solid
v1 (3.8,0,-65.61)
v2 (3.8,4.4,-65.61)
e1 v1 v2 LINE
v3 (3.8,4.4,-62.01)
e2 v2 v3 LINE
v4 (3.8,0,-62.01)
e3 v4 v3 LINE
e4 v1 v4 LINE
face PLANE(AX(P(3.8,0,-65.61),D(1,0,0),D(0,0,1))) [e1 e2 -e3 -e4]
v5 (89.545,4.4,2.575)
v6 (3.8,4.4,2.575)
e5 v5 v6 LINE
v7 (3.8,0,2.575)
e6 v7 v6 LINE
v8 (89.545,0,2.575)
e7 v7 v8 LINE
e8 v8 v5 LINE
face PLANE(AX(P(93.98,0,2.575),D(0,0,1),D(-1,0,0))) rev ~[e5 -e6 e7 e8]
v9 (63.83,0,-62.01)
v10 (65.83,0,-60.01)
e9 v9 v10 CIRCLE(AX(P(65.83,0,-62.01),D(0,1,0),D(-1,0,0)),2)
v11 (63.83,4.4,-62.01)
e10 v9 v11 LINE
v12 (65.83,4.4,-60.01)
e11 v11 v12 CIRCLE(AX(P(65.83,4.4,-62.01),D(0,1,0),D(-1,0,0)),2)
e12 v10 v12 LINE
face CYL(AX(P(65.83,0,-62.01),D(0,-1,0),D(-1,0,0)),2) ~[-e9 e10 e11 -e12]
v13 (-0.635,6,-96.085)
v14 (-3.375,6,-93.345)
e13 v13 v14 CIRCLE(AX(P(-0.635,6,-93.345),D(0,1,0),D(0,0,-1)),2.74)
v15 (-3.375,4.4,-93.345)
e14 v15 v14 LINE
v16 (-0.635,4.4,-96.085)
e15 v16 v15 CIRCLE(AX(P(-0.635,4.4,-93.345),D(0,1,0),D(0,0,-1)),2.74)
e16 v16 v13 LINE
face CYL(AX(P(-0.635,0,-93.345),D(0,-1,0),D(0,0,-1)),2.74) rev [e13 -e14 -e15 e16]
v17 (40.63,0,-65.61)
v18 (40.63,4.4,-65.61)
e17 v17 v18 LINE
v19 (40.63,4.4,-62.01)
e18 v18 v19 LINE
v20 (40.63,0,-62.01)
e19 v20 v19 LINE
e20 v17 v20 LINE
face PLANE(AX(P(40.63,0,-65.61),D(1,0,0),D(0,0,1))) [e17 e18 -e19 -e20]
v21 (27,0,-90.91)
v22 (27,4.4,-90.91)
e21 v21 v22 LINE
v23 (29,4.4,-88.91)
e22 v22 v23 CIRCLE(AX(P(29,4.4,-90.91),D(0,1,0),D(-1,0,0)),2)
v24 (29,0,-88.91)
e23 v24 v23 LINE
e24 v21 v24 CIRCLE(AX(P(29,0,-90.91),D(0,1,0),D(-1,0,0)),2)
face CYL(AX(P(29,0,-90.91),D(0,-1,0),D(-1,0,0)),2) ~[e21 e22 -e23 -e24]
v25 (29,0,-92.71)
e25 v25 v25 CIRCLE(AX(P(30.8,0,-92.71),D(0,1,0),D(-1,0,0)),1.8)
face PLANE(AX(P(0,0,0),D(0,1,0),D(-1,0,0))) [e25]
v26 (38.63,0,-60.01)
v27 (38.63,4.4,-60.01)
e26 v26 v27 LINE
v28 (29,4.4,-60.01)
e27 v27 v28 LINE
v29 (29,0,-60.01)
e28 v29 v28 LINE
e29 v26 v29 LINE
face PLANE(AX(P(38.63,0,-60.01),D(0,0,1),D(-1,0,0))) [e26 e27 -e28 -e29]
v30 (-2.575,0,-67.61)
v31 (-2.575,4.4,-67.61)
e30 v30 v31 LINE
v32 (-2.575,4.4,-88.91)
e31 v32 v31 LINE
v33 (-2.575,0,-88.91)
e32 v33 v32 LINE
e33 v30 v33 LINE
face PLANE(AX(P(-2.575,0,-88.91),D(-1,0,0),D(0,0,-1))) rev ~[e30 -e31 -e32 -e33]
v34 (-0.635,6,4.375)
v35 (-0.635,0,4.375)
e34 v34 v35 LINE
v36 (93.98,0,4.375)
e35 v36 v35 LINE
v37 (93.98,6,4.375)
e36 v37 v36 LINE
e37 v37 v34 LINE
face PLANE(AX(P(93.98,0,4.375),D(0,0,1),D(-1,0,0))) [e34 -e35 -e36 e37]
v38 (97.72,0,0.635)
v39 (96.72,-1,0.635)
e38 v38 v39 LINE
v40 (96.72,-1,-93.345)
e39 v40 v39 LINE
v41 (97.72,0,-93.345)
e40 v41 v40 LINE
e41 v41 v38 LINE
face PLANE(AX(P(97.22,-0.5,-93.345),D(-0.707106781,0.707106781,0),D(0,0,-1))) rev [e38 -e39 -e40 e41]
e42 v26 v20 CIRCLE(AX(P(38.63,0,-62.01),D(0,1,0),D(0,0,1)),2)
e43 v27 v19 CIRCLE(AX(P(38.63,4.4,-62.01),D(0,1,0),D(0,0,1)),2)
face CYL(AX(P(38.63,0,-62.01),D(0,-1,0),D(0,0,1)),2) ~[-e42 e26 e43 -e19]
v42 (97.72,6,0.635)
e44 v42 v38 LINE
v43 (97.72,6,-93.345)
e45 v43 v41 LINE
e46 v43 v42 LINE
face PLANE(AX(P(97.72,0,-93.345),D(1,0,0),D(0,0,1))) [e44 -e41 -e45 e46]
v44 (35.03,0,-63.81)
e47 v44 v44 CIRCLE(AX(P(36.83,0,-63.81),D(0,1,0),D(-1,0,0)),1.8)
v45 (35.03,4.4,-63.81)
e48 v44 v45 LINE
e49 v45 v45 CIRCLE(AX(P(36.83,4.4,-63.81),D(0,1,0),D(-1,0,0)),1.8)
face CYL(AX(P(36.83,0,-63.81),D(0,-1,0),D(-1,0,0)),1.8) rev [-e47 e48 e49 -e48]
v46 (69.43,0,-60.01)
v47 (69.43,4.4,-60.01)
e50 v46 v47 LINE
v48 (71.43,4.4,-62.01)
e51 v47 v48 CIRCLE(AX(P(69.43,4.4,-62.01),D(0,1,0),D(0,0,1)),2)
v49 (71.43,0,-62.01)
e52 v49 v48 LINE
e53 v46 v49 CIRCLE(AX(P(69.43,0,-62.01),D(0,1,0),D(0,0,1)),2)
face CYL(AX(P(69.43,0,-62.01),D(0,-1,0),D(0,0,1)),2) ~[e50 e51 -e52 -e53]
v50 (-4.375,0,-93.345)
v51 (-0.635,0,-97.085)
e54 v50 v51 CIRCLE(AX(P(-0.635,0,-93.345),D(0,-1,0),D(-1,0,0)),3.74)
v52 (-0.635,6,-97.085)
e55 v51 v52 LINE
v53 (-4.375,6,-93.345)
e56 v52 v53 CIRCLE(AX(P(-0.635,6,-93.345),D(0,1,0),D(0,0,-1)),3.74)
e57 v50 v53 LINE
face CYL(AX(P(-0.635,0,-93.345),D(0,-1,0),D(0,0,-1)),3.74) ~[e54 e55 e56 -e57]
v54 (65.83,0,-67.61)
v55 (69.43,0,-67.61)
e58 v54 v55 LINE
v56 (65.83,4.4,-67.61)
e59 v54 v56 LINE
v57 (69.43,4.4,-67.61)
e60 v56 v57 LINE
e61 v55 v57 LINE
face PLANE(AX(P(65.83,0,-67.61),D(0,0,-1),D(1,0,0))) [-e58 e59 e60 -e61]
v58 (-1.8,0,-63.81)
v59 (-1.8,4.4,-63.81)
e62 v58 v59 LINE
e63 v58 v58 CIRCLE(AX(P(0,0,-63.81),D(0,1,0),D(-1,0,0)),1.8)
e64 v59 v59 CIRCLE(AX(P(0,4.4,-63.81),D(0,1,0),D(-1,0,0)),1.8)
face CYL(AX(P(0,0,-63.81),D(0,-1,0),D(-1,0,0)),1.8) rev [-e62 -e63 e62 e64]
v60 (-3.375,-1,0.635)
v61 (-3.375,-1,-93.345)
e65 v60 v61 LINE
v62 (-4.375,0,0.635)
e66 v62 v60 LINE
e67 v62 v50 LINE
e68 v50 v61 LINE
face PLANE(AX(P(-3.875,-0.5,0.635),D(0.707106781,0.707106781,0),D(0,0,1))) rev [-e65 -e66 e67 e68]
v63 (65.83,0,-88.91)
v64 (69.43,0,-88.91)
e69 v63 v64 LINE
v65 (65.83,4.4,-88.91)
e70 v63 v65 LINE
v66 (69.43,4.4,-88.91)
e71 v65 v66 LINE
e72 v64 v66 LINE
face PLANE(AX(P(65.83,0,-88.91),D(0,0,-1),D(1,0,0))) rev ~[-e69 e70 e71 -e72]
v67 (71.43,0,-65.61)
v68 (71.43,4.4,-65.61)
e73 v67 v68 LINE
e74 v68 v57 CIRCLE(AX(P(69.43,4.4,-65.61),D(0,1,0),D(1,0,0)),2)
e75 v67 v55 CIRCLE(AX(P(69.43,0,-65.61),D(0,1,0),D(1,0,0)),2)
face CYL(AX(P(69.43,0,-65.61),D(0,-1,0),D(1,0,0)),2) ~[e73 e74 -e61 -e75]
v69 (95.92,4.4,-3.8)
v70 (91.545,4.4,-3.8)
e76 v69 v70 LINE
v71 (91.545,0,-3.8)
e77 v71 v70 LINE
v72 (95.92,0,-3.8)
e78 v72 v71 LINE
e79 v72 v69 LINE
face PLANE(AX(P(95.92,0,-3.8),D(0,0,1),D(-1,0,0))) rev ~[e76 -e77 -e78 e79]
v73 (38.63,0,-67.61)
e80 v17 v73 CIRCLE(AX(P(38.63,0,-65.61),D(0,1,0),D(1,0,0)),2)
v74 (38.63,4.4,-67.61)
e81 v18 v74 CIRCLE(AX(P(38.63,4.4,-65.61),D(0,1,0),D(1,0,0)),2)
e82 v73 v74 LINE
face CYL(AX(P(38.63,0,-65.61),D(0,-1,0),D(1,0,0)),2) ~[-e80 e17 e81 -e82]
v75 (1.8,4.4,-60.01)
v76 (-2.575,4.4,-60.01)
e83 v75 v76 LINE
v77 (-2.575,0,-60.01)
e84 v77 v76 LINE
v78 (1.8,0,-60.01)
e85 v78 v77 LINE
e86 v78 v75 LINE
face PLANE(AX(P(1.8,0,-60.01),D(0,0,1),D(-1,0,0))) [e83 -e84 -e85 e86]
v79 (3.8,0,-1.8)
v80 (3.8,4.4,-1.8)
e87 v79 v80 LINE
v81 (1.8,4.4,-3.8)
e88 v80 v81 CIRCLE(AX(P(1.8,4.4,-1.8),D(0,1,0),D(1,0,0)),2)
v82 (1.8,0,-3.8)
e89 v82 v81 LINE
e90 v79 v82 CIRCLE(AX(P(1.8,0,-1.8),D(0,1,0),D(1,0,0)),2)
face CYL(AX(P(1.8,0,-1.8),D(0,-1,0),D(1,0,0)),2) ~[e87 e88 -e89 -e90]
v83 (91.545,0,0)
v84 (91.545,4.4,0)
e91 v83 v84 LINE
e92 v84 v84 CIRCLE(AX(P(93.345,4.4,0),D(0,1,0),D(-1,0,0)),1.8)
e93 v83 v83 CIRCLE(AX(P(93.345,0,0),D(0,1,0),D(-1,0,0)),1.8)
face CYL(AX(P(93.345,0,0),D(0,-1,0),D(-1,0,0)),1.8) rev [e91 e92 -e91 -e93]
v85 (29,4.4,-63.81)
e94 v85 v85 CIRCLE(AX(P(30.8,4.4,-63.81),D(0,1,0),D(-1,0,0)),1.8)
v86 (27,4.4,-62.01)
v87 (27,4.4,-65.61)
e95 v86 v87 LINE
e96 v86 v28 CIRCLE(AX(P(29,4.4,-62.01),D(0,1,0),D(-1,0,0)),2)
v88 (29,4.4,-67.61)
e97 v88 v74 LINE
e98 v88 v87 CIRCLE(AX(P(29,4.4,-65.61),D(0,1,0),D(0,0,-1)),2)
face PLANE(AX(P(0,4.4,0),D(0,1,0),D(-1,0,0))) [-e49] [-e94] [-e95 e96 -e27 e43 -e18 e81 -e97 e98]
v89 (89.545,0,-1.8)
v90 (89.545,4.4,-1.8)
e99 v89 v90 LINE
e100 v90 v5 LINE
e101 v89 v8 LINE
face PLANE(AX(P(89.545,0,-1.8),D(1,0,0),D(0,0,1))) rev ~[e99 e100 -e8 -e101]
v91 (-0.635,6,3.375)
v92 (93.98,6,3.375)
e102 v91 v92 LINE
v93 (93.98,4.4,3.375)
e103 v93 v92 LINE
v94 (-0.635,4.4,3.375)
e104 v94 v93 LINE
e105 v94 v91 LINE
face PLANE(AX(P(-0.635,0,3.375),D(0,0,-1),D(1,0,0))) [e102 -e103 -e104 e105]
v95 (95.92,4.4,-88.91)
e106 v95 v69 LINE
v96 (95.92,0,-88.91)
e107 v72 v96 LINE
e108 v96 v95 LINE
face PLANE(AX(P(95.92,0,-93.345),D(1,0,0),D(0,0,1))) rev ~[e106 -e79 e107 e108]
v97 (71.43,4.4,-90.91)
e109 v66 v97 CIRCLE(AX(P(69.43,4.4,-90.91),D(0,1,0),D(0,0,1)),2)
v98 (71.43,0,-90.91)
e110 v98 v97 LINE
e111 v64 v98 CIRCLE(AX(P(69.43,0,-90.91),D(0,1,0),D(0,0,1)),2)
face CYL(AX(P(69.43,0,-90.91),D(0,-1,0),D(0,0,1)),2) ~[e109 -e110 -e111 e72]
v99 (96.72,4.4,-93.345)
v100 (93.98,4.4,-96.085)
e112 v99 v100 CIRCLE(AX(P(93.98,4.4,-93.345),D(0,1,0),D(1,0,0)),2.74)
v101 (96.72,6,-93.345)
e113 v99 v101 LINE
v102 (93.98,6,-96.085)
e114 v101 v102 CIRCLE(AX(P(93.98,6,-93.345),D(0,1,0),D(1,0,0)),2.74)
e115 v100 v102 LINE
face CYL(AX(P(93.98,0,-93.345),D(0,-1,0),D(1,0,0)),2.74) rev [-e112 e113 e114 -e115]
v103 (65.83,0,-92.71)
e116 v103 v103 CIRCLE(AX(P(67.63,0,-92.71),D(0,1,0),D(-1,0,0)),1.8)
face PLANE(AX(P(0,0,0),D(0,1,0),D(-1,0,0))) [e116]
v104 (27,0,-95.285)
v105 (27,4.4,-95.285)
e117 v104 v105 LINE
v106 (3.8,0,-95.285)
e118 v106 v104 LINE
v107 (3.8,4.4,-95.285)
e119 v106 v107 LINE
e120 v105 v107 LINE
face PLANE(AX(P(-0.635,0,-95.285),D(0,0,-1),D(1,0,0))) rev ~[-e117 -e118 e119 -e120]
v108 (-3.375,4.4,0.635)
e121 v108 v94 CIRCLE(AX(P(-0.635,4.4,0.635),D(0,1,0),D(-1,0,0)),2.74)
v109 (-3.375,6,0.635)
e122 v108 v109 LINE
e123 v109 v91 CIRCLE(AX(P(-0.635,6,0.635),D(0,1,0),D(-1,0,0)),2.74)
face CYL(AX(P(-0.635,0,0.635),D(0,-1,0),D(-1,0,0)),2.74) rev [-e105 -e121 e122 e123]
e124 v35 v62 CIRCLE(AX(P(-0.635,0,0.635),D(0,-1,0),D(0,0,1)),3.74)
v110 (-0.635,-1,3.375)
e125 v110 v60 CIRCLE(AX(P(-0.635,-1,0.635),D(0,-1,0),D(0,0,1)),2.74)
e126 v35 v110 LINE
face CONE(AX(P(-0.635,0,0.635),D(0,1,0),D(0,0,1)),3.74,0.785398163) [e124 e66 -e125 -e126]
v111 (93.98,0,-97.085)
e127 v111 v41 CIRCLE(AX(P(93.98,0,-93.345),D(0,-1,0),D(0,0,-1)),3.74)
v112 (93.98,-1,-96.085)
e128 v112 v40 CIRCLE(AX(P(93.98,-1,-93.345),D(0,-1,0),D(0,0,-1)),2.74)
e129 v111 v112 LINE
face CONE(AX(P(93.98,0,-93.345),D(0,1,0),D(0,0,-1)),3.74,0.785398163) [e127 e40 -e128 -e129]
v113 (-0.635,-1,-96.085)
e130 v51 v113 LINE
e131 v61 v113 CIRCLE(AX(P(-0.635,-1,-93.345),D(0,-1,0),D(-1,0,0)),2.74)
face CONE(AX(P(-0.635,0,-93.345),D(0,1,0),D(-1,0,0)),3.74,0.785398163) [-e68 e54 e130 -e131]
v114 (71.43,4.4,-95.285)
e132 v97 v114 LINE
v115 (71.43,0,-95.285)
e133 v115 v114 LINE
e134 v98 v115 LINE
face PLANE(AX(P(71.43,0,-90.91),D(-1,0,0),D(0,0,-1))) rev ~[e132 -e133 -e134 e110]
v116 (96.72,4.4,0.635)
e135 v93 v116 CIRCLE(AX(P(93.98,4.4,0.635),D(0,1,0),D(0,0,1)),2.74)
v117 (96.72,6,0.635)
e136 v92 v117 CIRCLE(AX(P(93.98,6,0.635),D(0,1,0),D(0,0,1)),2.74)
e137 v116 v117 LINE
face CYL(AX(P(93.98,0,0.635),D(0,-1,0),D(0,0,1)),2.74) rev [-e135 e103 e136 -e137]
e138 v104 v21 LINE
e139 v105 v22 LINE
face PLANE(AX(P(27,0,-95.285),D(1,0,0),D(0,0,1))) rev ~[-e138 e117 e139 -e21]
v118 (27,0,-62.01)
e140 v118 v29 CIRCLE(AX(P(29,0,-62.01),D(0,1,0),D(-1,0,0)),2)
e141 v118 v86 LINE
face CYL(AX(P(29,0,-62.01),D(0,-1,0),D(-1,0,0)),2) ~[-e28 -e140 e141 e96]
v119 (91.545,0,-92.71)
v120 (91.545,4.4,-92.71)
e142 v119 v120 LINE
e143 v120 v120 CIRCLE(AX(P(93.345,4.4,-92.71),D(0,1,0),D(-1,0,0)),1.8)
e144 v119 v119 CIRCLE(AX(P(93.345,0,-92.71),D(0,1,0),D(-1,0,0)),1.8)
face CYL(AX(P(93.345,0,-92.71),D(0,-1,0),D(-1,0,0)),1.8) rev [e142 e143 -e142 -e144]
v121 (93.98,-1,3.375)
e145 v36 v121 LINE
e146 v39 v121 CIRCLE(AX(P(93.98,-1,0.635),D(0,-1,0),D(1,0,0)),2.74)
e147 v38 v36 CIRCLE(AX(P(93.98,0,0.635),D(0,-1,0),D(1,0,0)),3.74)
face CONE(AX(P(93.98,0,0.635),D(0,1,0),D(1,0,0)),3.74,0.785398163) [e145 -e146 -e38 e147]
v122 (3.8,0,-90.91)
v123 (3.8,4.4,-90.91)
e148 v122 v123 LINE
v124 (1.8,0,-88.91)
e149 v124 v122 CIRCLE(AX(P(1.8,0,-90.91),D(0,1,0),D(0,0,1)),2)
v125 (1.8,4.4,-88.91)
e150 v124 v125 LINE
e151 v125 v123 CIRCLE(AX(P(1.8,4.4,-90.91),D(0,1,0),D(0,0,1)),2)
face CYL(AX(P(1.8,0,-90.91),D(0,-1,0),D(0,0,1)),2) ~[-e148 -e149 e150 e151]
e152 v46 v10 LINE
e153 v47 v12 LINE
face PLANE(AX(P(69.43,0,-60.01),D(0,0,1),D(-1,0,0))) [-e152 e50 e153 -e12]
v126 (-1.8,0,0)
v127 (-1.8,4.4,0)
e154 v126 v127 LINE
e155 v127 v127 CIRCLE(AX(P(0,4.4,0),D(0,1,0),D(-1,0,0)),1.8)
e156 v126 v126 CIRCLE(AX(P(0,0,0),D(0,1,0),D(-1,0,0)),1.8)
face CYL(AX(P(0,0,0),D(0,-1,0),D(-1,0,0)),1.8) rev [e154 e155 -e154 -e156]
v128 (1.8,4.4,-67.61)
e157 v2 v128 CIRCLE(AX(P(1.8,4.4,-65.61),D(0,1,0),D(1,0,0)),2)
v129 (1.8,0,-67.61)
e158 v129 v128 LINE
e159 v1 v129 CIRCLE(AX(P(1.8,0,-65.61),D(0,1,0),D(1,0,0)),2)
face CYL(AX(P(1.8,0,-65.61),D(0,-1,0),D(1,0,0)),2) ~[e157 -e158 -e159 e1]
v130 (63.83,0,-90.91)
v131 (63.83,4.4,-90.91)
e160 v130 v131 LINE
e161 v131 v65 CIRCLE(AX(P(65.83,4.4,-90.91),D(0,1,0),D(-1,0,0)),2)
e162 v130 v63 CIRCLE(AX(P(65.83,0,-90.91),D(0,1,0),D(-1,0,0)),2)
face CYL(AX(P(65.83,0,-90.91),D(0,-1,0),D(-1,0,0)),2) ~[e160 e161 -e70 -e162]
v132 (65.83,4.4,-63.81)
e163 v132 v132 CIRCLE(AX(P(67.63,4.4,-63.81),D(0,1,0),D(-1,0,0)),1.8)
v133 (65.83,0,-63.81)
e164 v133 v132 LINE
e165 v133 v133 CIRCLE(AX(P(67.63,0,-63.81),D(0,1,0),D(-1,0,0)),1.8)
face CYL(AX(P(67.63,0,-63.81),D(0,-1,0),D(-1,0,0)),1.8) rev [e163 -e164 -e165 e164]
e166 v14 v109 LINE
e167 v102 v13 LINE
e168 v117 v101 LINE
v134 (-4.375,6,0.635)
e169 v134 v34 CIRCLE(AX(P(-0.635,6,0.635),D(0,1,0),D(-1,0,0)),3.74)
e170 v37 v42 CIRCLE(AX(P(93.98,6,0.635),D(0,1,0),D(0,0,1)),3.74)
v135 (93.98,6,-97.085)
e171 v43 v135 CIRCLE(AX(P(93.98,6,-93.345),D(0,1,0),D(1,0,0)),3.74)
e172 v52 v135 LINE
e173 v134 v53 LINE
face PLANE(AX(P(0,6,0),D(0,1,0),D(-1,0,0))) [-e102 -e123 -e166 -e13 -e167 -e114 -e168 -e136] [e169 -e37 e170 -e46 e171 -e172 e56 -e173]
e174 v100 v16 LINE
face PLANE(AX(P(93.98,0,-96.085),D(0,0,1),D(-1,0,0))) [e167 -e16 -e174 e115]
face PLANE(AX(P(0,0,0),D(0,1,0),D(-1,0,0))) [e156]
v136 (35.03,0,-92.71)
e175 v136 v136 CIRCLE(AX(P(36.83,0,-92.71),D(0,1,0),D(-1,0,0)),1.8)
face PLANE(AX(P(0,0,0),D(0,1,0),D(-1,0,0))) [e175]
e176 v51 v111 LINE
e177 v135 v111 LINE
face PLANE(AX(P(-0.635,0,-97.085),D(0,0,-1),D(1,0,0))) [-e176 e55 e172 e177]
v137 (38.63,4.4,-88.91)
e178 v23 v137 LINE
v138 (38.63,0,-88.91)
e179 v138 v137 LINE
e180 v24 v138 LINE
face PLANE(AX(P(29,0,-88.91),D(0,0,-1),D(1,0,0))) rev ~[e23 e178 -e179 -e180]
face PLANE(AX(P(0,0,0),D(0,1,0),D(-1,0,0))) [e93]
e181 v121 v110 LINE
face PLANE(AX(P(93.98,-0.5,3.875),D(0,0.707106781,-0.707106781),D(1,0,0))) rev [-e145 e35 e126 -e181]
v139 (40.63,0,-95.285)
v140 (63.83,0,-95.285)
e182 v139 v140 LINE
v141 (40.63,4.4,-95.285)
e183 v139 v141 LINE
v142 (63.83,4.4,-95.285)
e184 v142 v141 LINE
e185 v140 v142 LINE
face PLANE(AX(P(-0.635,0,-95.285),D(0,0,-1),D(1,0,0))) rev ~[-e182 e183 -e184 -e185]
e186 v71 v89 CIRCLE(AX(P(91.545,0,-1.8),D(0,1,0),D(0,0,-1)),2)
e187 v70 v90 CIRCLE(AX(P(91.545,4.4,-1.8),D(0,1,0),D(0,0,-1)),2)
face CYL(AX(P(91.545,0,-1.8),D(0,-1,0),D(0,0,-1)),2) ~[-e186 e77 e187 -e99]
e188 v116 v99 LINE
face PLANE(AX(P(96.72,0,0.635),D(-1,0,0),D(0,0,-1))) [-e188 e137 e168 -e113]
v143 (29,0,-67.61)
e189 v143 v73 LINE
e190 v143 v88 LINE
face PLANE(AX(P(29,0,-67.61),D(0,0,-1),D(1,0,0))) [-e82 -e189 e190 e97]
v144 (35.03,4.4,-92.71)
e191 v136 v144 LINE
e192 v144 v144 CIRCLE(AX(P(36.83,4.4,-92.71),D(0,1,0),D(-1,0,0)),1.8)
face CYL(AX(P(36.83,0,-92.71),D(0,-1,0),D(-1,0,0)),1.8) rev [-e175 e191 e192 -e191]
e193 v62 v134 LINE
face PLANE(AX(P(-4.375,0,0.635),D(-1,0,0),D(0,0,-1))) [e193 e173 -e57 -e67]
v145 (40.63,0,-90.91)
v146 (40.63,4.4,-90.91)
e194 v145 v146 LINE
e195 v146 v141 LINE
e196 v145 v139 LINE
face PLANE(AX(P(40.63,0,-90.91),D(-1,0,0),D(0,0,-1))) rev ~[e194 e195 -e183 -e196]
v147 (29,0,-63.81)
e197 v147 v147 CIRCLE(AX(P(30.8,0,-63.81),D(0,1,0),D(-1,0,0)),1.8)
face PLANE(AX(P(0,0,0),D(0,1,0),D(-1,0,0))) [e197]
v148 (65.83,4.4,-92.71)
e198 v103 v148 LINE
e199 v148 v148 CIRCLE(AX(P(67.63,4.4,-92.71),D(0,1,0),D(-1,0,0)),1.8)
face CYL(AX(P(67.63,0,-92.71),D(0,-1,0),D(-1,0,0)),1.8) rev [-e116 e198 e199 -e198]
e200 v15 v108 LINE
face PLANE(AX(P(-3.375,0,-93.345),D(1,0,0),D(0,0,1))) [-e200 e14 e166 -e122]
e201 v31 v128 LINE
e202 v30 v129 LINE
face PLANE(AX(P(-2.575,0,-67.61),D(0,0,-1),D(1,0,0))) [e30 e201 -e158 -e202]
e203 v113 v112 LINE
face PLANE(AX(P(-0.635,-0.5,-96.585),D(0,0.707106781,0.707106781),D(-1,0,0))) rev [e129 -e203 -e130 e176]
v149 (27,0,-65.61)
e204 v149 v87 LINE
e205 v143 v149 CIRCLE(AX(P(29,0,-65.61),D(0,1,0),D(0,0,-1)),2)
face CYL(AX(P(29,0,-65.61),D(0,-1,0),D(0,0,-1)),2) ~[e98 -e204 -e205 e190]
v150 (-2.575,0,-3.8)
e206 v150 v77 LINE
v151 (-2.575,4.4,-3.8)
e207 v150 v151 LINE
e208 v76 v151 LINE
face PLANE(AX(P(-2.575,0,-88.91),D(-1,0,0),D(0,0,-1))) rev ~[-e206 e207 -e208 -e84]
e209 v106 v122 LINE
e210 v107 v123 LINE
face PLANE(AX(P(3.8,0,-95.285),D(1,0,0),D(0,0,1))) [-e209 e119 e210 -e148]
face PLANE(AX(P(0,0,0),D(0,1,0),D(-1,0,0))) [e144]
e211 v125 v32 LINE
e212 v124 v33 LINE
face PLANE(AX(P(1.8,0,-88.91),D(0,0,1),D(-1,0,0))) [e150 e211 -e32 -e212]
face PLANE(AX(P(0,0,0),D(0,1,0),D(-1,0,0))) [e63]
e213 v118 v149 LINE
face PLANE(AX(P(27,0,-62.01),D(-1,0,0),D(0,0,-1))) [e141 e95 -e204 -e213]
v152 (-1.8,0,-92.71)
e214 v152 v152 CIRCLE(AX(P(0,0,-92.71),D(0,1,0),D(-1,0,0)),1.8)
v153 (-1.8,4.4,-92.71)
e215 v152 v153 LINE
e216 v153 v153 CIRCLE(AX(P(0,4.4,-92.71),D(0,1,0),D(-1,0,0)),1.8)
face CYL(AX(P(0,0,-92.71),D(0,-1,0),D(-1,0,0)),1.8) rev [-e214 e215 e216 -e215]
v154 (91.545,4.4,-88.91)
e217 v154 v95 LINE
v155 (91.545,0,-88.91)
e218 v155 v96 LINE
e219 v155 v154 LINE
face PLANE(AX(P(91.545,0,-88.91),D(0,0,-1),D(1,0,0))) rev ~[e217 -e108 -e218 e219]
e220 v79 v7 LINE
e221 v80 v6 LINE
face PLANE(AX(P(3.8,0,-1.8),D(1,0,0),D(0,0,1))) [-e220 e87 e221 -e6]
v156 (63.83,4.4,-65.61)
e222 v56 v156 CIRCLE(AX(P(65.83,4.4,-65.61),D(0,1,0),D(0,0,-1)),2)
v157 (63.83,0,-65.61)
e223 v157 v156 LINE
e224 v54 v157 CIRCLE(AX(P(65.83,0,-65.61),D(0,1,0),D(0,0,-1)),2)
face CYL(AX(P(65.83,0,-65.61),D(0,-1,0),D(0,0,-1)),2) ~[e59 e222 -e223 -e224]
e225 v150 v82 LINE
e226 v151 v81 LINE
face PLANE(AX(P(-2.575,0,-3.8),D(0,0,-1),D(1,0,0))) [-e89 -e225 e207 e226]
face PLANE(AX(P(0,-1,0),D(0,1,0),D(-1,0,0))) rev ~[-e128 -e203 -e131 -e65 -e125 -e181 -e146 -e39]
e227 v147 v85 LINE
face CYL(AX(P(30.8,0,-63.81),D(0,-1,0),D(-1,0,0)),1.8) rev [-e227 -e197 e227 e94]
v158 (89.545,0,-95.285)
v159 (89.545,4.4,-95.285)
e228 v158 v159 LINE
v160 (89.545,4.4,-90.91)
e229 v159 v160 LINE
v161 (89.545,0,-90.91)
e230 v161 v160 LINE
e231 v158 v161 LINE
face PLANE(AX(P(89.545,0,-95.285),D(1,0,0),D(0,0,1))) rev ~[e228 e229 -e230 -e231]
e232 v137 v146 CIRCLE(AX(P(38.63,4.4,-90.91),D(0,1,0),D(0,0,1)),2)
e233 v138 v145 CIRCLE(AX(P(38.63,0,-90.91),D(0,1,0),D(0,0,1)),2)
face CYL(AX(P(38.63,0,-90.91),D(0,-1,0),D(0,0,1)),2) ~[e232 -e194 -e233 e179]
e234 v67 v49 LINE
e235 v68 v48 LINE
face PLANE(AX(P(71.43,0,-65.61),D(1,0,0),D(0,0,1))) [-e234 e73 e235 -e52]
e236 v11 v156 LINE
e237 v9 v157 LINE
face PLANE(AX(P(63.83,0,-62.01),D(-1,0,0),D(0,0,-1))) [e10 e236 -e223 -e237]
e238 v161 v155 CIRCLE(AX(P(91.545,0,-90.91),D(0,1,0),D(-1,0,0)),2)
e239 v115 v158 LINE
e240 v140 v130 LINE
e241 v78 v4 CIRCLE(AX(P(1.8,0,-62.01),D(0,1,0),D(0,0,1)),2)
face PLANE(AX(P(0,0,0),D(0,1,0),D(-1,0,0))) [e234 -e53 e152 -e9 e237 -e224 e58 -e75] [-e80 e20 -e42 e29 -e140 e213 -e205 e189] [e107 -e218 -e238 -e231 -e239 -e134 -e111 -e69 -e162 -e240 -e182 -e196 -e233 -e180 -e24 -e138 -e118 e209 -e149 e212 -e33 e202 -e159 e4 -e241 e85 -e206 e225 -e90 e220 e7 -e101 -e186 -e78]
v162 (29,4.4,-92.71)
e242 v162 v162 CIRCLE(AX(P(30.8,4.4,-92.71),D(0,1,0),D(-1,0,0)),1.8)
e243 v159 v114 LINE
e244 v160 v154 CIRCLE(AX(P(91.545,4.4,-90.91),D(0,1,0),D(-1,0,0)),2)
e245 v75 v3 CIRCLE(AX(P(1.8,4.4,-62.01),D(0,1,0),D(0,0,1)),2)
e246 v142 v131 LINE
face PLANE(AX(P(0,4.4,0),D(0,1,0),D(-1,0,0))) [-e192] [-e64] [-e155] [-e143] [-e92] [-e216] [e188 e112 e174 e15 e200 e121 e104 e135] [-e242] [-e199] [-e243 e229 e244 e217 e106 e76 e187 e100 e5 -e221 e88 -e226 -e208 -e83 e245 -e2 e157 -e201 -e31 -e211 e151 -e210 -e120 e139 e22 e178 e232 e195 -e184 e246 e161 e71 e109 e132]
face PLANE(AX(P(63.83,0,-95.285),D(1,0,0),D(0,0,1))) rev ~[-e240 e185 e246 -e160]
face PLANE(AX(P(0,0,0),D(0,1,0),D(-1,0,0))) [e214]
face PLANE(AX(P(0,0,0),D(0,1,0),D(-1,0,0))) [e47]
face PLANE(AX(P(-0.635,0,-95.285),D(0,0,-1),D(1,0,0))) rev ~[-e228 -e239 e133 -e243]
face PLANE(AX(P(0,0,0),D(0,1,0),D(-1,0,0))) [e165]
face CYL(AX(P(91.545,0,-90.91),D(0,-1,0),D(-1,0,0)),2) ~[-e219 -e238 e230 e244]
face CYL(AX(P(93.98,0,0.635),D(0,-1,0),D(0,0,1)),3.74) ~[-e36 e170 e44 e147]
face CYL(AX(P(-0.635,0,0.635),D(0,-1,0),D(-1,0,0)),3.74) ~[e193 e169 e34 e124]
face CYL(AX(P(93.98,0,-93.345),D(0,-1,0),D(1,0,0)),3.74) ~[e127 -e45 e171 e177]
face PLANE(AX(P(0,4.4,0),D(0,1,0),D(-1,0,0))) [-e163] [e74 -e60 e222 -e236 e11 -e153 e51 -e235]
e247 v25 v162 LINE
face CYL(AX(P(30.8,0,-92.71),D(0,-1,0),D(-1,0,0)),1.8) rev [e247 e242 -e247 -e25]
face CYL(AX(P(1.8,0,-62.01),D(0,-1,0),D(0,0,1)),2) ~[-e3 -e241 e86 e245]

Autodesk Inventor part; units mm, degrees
ref_plane "YZ Plane" through (0, 0, 0) normal (1, 0, 0) x (0, 1, 0)
ref_plane "XZ Plane" through (0, 0, 0) normal (0, 1, 0) x (-1, 0, 0)
ref_plane "XY Plane" through (0, 0, 0) normal (0, 0, 1) x (1, 0, 0)
sketch "Skizze1" plane through (0, 0, 0) normal (0, 1, 0) x (-1, 0, 0)
  circle A0 centre (0, 0) radius 1.8
  line L0 (0, 0) -> (-93.345, 0) construction
  line L1 (-93.345, 0) -> (-93.345, -92.71) construction
  line L2 (-93.345, -92.71) -> (0, -92.71) construction
  line L3 (0, -92.71) -> (0, 0) construction
  circle A1 centre (0, -92.71) radius 1.8
  circle A2 centre (-93.345, -92.71) radius 1.8
  circle A3 centre (-93.345, 0) radius 1.8
  circle A4 centre (-30.8, -92.71) radius 1.8
  circle A5 centre (-36.83, -92.71) radius 1.8
  circle A6 centre (-67.63, -92.71) radius 1.8
  line L4 (0, -63.81) -> (-93.345, -63.81) construction
  circle A7 centre (0, -63.81) radius 1.8
  circle A8 centre (-30.8, -63.81) radius 1.8
  circle A9 centre (-36.83, -63.81) radius 1.8
  circle A10 centre (-67.63, -63.81) radius 1.8
  line L5 (0.635, -95.885) -> (-93.98, -95.885) construction
  line L6 (-96.52, -93.345) -> (-96.52, 0.635) construction
  line L7 (-93.98, 3.175) -> (0.635, 3.175) construction
  line L8 (3.175, 0.635) -> (3.175, -93.345) construction
  arc A11 (0.635, -95.885) -> (3.175, -93.345) centre (0.635, -93.345) ccw construction
  arc A12 (-96.52, -93.345) -> (-93.98, -95.885) centre (-93.98, -93.345) ccw construction
  arc A13 (-93.98, 3.175) -> (-96.52, 0.635) centre (-93.98, 0.635) ccw construction
  arc A14 (3.175, 0.635) -> (0.635, 3.175) centre (0.635, 0.635) ccw construction
  line L9 (-93.98, -96.085) -> (0.635, -96.085)
  arc A15 (0.635, -96.085) -> (3.375, -93.345) centre (0.635, -93.345) ccw
  line L10 (3.375, -93.345) -> (3.375, 0.635)
  arc A16 (3.375, 0.635) -> (0.635, 3.375) centre (0.635, 0.635) ccw
  line L11 (0.635, 3.375) -> (-93.98, 3.375)
  arc A17 (-93.98, 3.375) -> (-96.72, 0.635) centre (-93.98, 0.635) ccw
  line L12 (-96.72, 0.635) -> (-96.72, -93.345)
  arc A18 (-96.72, -93.345) -> (-93.98, -96.085) centre (-93.98, -93.345) ccw
  line L13 (0.635, -97.085) -> (-93.98, -97.085)
  arc A19 (-97.72, -93.345) -> (-93.98, -97.085) centre (-93.98, -93.345) ccw
  line L14 (-97.72, -93.345) -> (-97.72, 0.635)
  arc A20 (-93.98, 4.375) -> (-97.72, 0.635) centre (-93.98, 0.635) ccw
  line L15 (-93.98, 4.375) -> (0.635, 4.375)
  arc A21 (4.375, 0.635) -> (0.635, 4.375) centre (0.635, 0.635) ccw
  line L16 (4.375, 0.635) -> (4.375, -93.345)
  arc A22 (0.635, -97.085) -> (4.375, -93.345) centre (0.635, -93.345) ccw
  line L17 (0.635, -95.285) -> (-93.98, -95.285)
  arc A23 (-95.92, -93.345) -> (-93.98, -95.285) centre (-93.98, -93.345) ccw
  line L18 (-95.92, -93.345) -> (-95.92, 0.635)
  arc A24 (-93.98, 2.575) -> (-95.92, 0.635) centre (-93.98, 0.635) ccw
  line L19 (-93.98, 2.575) -> (0.635, 2.575)
  arc A25 (2.575, 0.635) -> (0.635, 2.575) centre (0.635, 0.635) ccw
  line L20 (2.575, 0.635) -> (2.575, -93.345)
  arc A26 (0.635, -95.285) -> (2.575, -93.345) centre (0.635, -93.345) ccw
  line L21 (-3.8, -95.285) -> (-3.8, -90.91)
  line L22 (-1.8, -88.91) -> (2.575, -88.91)
  line L23 (-27, -95.285) -> (-27, -90.91)
  line L24 (-29, -88.91) -> (-38.63, -88.91)
  line L25 (-40.63, -90.91) -> (-40.63, -95.285)
  line L26 (-63.83, -95.285) -> (-63.83, -90.91)
  line L27 (-65.83, -88.91) -> (-69.43, -88.91)
  line L28 (-71.43, -90.91) -> (-71.43, -95.285)
  line L29 (-89.545, -95.285) -> (-89.545, -90.91)
  line L30 (-91.545, -88.91) -> (-95.92, -88.91)
  line L31 (-95.92, -3.8) -> (-91.545, -3.8)
  line L32 (-89.545, -1.8) -> (-89.545, 2.575)
  line L33 (2.575, -3.8) -> (-1.8, -3.8)
  line L34 (-3.8, -1.8) -> (-3.8, 2.575)
  line L35 (2.575, -67.61) -> (-1.8, -67.61)
  line L36 (-3.8, -65.61) -> (-3.8, -62.01)
  line L37 (-1.8, -60.01) -> (2.575, -60.01)
  line L38 (-29, -67.61) -> (-38.63, -67.61)
  line L39 (-40.63, -65.61) -> (-40.63, -62.01)
  line L40 (-38.63, -60.01) -> (-29, -60.01)
  line L41 (-27, -62.01) -> (-27, -65.61)
  line L42 (-65.83, -67.61) -> (-69.43, -67.61)
  line L43 (-71.43, -65.61) -> (-71.43, -62.01)
  line L44 (-69.43, -60.01) -> (-65.83, -60.01)
  line L45 (-63.83, -62.01) -> (-63.83, -65.61)
  arc A27 (-1.8, -88.91) -> (-3.8, -90.91) centre (-1.8, -90.91) ccw
  arc A28 (-27, -90.91) -> (-29, -88.91) centre (-29, -90.91) ccw
  arc A29 (-38.63, -88.91) -> (-40.63, -90.91) centre (-38.63, -90.91) ccw
  arc A30 (-63.83, -90.91) -> (-65.83, -88.91) centre (-65.83, -90.91) ccw
  arc A31 (-69.43, -88.91) -> (-71.43, -90.91) centre (-69.43, -90.91) ccw
  arc A32 (-89.545, -90.91) -> (-91.545, -88.91) centre (-91.545, -90.91) ccw
  arc A33 (-65.83, -67.61) -> (-63.83, -65.61) centre (-65.83, -65.61) ccw
  arc A34 (-71.43, -65.61) -> (-69.43, -67.61) centre (-69.43, -65.61) ccw
  arc A35 (-69.43, -60.01) -> (-71.43, -62.01) centre (-69.43, -62.01) ccw
  arc A36 (-63.83, -62.01) -> (-65.83, -60.01) centre (-65.83, -62.01) ccw
  arc A37 (-27, -62.01) -> (-29, -60.01) centre (-29, -62.01) ccw
  arc A38 (-29, -67.61) -> (-27, -65.61) centre (-29, -65.61) ccw
  arc A39 (-40.63, -65.61) -> (-38.63, -67.61) centre (-38.63, -65.61) ccw
  arc A40 (-38.63, -60.01) -> (-40.63, -62.01) centre (-38.63, -62.01) ccw
  arc A41 (-1.8, -60.01) -> (-3.8, -62.01) centre (-1.8, -62.01) ccw
  arc A42 (-3.8, -65.61) -> (-1.8, -67.61) centre (-1.8, -65.61) ccw
  arc A43 (-3.8, -1.8) -> (-1.8, -3.8) centre (-1.8, -1.8) ccw
  arc A44 (-91.545, -3.8) -> (-89.545, -1.8) centre (-91.545, -1.8) ccw
  point P0 (-27, -67.61)
  point P1 (-40.63, -60.01)
  point P2 (-27, -60.01)
  dimension "d0" = 3.6
  dimension "d1" = 3.6
  dimension "d2" = 3.6
  dimension "d3" = 3.6
  dimension "d4" = 93.345
  dimension "d5" = 92.71
  dimension "d6" = 3.6
  dimension "d7" = 3.6
  dimension "d8" = 3.6
  dimension "d10" = 3.6
  dimension "d11" = 3.6
  dimension "d12" = 3.6
  dimension "d13" = 3.6
  dimension "d14" = 28.9
  dimension "d15" = 30.8
  dimension "d16" = 6.03
  dimension "d17" = 30.8
  dimension "d18" = 30.8
  dimension "d19" = 6.03
  dimension "d20" = 30.8
  dimension "d21" = 3.175
  dimension "d22" = 2.54
  dimension "d23" = 0.2
  dimension "d24" = 1
  dimension "d29" = 0.8
  dimension "d32" = 3.8
  dimension "d33" = 3.8
  dimension "d35" = 3.8
  dimension "d36" = 3.8
  dimension "d37" = 3.8
  dimension "d38" = 3.8
  dimension "d39" = 3.8
  dimension "d40" = 3.8
  dimension "d41" = 3.8
  dimension "d42" = 3.8
  dimension "d43" = 3.8
  dimension "d44" = 3.8
  dimension "d45" = 2
extrude "Extrusion1" add sketch "Skizze1" against normal blind 1 contours A0 | A1 | A2 | A3 | A4 | A5 | A6 | A7 | A8 | A9 | A10 | A18 L12 A17 L11 A16 L10 A15 L9 | L13 A19 L14 A20 L15 A21 L16 A22 | L17 L21 A27 L22 L20 A26 | L17 L23 A28 L24 A29 L25 L26 A30 L27 A31 L28 L29 A32 L30 L18 L31 A44 L32 L19 L34 A43 L33 L20 L37 A41 L36 A42 L35 L22 A27 L21 | L17 L25 A29 L24 A28 L23 | L35 A42 L36 A41 L37 L20 | L17 L28 A31 L27 A30 L26 | L33 A43 L34 L19 A25 L20 | L17 A23 L18 L30 A32 L29 | L32 A44 L31 L18 A24 L19 | L38 A39 L39 A40 L40 A37 L41 A38 | L42 A34 L43 A35 L44 A36 L45 A33
extrude "Extrusion2" add sketch "Skizze1" along normal blind 6 contours L13 A19 L14 A20 L15 A21 L16 A22
extrude "Extrusion3" add sketch "Skizze1" along normal blind 4.4 contours A18 L12 A17 L11 A16 L10 A15 L9
extrude "Extrusion4" add sketch "Skizze1" along normal up to surface (4.4 mm away) contours L17 L21 A27 L22 L20 A26 | L17 L25 A29 L24 A28 L23 | L35 A42 L36 A41 L37 L20 | L17 L28 A31 L27 A30 L26 | L33 A43 L34 L19 A25 L20 | L17 A23 L18 L30 A32 L29 | L32 A44 L31 L18 A24 L19 | L38 A39 L39 A40 L40 A37 L41 A38 | L42 A34 L43 A35 L44 A36 L45 A33
chamfer "Fase1" distance 1 angle 45 8 edges at (97.72, -1, -46.355) (96.6246, -1, 3.2796) (46.6725, -1, 4.375) (-3.2796, -1, 3.2796) (-4.375, -1, -46.355) (-3.2796, -1, -95.9896) (46.6725, -1, -97.085) (96.6246, -1, -95.9896)
equation "\"d0\" = holeDim"
equation "\"d1\" = holeDim"
equation "\"d2\" = holeDim"
equation "\"d3\" = holeDim"
equation "\"d6\" = holeDim"
equation "\"d7\" = holeDim"
equation "\"d8\" = holeDim"
equation "\"d10\" = holeDim"
equation "\"d11\" = holeDim"
equation "\"d12\" = holeDim"
equation "\"d13\" = holeDim"
equation "\"d17\" = d15"
equation "\"d18\" = d15"
equation "\"d19\" = d16"
equation "\"d20\" = d15"
equation "\"d23\" = airGabWall"
equation "\"d24\" = topWallThick"
equation "\"d29\" = baseWallThick"
equation "\"d32\" = insertWallThick"
equation "\"d33\" = insertWallThick"
equation "\"d35\" = insertWallThick"
equation "\"d36\" = insertWallThick"
equation "\"d37\" = insertWallThick"
equation "\"d38\" = insertWallThick"
equation "\"d39\" = insertWallThick"
equation "\"d40\" = insertWallThick"
equation "\"d41\" = insertWallThick"
equation "\"d42\" = insertWallThick"
equation "\"d43\" = insertWallThick"
equation "\"d44\" = insertWallThick"
equation "\"d25\" = baseThick"
equation "\"d27\" = heightWall"
equation "\"d30\" = baseHeightWall"
equation "\"holeDim\" = 3.6"
equation "\"topWallThick\" = 1"
equation "\"airGabWall\" = 0.2"
equation "\"baseThick\" = 1"
equation "\"heightWall\" = heightInnerWall + pcbThick"
equation "\"baseWallThick\" = 0.8"
equation "\"pcbThick\" = 1.6"
equation "\"baseHeightWall\" = heightWall - pcbThick"
equation "\"heightInnerWall\" = 4.4"
equation "\"insertWallThick\" = 3.8"
properties part number "Housing_Bottom"
